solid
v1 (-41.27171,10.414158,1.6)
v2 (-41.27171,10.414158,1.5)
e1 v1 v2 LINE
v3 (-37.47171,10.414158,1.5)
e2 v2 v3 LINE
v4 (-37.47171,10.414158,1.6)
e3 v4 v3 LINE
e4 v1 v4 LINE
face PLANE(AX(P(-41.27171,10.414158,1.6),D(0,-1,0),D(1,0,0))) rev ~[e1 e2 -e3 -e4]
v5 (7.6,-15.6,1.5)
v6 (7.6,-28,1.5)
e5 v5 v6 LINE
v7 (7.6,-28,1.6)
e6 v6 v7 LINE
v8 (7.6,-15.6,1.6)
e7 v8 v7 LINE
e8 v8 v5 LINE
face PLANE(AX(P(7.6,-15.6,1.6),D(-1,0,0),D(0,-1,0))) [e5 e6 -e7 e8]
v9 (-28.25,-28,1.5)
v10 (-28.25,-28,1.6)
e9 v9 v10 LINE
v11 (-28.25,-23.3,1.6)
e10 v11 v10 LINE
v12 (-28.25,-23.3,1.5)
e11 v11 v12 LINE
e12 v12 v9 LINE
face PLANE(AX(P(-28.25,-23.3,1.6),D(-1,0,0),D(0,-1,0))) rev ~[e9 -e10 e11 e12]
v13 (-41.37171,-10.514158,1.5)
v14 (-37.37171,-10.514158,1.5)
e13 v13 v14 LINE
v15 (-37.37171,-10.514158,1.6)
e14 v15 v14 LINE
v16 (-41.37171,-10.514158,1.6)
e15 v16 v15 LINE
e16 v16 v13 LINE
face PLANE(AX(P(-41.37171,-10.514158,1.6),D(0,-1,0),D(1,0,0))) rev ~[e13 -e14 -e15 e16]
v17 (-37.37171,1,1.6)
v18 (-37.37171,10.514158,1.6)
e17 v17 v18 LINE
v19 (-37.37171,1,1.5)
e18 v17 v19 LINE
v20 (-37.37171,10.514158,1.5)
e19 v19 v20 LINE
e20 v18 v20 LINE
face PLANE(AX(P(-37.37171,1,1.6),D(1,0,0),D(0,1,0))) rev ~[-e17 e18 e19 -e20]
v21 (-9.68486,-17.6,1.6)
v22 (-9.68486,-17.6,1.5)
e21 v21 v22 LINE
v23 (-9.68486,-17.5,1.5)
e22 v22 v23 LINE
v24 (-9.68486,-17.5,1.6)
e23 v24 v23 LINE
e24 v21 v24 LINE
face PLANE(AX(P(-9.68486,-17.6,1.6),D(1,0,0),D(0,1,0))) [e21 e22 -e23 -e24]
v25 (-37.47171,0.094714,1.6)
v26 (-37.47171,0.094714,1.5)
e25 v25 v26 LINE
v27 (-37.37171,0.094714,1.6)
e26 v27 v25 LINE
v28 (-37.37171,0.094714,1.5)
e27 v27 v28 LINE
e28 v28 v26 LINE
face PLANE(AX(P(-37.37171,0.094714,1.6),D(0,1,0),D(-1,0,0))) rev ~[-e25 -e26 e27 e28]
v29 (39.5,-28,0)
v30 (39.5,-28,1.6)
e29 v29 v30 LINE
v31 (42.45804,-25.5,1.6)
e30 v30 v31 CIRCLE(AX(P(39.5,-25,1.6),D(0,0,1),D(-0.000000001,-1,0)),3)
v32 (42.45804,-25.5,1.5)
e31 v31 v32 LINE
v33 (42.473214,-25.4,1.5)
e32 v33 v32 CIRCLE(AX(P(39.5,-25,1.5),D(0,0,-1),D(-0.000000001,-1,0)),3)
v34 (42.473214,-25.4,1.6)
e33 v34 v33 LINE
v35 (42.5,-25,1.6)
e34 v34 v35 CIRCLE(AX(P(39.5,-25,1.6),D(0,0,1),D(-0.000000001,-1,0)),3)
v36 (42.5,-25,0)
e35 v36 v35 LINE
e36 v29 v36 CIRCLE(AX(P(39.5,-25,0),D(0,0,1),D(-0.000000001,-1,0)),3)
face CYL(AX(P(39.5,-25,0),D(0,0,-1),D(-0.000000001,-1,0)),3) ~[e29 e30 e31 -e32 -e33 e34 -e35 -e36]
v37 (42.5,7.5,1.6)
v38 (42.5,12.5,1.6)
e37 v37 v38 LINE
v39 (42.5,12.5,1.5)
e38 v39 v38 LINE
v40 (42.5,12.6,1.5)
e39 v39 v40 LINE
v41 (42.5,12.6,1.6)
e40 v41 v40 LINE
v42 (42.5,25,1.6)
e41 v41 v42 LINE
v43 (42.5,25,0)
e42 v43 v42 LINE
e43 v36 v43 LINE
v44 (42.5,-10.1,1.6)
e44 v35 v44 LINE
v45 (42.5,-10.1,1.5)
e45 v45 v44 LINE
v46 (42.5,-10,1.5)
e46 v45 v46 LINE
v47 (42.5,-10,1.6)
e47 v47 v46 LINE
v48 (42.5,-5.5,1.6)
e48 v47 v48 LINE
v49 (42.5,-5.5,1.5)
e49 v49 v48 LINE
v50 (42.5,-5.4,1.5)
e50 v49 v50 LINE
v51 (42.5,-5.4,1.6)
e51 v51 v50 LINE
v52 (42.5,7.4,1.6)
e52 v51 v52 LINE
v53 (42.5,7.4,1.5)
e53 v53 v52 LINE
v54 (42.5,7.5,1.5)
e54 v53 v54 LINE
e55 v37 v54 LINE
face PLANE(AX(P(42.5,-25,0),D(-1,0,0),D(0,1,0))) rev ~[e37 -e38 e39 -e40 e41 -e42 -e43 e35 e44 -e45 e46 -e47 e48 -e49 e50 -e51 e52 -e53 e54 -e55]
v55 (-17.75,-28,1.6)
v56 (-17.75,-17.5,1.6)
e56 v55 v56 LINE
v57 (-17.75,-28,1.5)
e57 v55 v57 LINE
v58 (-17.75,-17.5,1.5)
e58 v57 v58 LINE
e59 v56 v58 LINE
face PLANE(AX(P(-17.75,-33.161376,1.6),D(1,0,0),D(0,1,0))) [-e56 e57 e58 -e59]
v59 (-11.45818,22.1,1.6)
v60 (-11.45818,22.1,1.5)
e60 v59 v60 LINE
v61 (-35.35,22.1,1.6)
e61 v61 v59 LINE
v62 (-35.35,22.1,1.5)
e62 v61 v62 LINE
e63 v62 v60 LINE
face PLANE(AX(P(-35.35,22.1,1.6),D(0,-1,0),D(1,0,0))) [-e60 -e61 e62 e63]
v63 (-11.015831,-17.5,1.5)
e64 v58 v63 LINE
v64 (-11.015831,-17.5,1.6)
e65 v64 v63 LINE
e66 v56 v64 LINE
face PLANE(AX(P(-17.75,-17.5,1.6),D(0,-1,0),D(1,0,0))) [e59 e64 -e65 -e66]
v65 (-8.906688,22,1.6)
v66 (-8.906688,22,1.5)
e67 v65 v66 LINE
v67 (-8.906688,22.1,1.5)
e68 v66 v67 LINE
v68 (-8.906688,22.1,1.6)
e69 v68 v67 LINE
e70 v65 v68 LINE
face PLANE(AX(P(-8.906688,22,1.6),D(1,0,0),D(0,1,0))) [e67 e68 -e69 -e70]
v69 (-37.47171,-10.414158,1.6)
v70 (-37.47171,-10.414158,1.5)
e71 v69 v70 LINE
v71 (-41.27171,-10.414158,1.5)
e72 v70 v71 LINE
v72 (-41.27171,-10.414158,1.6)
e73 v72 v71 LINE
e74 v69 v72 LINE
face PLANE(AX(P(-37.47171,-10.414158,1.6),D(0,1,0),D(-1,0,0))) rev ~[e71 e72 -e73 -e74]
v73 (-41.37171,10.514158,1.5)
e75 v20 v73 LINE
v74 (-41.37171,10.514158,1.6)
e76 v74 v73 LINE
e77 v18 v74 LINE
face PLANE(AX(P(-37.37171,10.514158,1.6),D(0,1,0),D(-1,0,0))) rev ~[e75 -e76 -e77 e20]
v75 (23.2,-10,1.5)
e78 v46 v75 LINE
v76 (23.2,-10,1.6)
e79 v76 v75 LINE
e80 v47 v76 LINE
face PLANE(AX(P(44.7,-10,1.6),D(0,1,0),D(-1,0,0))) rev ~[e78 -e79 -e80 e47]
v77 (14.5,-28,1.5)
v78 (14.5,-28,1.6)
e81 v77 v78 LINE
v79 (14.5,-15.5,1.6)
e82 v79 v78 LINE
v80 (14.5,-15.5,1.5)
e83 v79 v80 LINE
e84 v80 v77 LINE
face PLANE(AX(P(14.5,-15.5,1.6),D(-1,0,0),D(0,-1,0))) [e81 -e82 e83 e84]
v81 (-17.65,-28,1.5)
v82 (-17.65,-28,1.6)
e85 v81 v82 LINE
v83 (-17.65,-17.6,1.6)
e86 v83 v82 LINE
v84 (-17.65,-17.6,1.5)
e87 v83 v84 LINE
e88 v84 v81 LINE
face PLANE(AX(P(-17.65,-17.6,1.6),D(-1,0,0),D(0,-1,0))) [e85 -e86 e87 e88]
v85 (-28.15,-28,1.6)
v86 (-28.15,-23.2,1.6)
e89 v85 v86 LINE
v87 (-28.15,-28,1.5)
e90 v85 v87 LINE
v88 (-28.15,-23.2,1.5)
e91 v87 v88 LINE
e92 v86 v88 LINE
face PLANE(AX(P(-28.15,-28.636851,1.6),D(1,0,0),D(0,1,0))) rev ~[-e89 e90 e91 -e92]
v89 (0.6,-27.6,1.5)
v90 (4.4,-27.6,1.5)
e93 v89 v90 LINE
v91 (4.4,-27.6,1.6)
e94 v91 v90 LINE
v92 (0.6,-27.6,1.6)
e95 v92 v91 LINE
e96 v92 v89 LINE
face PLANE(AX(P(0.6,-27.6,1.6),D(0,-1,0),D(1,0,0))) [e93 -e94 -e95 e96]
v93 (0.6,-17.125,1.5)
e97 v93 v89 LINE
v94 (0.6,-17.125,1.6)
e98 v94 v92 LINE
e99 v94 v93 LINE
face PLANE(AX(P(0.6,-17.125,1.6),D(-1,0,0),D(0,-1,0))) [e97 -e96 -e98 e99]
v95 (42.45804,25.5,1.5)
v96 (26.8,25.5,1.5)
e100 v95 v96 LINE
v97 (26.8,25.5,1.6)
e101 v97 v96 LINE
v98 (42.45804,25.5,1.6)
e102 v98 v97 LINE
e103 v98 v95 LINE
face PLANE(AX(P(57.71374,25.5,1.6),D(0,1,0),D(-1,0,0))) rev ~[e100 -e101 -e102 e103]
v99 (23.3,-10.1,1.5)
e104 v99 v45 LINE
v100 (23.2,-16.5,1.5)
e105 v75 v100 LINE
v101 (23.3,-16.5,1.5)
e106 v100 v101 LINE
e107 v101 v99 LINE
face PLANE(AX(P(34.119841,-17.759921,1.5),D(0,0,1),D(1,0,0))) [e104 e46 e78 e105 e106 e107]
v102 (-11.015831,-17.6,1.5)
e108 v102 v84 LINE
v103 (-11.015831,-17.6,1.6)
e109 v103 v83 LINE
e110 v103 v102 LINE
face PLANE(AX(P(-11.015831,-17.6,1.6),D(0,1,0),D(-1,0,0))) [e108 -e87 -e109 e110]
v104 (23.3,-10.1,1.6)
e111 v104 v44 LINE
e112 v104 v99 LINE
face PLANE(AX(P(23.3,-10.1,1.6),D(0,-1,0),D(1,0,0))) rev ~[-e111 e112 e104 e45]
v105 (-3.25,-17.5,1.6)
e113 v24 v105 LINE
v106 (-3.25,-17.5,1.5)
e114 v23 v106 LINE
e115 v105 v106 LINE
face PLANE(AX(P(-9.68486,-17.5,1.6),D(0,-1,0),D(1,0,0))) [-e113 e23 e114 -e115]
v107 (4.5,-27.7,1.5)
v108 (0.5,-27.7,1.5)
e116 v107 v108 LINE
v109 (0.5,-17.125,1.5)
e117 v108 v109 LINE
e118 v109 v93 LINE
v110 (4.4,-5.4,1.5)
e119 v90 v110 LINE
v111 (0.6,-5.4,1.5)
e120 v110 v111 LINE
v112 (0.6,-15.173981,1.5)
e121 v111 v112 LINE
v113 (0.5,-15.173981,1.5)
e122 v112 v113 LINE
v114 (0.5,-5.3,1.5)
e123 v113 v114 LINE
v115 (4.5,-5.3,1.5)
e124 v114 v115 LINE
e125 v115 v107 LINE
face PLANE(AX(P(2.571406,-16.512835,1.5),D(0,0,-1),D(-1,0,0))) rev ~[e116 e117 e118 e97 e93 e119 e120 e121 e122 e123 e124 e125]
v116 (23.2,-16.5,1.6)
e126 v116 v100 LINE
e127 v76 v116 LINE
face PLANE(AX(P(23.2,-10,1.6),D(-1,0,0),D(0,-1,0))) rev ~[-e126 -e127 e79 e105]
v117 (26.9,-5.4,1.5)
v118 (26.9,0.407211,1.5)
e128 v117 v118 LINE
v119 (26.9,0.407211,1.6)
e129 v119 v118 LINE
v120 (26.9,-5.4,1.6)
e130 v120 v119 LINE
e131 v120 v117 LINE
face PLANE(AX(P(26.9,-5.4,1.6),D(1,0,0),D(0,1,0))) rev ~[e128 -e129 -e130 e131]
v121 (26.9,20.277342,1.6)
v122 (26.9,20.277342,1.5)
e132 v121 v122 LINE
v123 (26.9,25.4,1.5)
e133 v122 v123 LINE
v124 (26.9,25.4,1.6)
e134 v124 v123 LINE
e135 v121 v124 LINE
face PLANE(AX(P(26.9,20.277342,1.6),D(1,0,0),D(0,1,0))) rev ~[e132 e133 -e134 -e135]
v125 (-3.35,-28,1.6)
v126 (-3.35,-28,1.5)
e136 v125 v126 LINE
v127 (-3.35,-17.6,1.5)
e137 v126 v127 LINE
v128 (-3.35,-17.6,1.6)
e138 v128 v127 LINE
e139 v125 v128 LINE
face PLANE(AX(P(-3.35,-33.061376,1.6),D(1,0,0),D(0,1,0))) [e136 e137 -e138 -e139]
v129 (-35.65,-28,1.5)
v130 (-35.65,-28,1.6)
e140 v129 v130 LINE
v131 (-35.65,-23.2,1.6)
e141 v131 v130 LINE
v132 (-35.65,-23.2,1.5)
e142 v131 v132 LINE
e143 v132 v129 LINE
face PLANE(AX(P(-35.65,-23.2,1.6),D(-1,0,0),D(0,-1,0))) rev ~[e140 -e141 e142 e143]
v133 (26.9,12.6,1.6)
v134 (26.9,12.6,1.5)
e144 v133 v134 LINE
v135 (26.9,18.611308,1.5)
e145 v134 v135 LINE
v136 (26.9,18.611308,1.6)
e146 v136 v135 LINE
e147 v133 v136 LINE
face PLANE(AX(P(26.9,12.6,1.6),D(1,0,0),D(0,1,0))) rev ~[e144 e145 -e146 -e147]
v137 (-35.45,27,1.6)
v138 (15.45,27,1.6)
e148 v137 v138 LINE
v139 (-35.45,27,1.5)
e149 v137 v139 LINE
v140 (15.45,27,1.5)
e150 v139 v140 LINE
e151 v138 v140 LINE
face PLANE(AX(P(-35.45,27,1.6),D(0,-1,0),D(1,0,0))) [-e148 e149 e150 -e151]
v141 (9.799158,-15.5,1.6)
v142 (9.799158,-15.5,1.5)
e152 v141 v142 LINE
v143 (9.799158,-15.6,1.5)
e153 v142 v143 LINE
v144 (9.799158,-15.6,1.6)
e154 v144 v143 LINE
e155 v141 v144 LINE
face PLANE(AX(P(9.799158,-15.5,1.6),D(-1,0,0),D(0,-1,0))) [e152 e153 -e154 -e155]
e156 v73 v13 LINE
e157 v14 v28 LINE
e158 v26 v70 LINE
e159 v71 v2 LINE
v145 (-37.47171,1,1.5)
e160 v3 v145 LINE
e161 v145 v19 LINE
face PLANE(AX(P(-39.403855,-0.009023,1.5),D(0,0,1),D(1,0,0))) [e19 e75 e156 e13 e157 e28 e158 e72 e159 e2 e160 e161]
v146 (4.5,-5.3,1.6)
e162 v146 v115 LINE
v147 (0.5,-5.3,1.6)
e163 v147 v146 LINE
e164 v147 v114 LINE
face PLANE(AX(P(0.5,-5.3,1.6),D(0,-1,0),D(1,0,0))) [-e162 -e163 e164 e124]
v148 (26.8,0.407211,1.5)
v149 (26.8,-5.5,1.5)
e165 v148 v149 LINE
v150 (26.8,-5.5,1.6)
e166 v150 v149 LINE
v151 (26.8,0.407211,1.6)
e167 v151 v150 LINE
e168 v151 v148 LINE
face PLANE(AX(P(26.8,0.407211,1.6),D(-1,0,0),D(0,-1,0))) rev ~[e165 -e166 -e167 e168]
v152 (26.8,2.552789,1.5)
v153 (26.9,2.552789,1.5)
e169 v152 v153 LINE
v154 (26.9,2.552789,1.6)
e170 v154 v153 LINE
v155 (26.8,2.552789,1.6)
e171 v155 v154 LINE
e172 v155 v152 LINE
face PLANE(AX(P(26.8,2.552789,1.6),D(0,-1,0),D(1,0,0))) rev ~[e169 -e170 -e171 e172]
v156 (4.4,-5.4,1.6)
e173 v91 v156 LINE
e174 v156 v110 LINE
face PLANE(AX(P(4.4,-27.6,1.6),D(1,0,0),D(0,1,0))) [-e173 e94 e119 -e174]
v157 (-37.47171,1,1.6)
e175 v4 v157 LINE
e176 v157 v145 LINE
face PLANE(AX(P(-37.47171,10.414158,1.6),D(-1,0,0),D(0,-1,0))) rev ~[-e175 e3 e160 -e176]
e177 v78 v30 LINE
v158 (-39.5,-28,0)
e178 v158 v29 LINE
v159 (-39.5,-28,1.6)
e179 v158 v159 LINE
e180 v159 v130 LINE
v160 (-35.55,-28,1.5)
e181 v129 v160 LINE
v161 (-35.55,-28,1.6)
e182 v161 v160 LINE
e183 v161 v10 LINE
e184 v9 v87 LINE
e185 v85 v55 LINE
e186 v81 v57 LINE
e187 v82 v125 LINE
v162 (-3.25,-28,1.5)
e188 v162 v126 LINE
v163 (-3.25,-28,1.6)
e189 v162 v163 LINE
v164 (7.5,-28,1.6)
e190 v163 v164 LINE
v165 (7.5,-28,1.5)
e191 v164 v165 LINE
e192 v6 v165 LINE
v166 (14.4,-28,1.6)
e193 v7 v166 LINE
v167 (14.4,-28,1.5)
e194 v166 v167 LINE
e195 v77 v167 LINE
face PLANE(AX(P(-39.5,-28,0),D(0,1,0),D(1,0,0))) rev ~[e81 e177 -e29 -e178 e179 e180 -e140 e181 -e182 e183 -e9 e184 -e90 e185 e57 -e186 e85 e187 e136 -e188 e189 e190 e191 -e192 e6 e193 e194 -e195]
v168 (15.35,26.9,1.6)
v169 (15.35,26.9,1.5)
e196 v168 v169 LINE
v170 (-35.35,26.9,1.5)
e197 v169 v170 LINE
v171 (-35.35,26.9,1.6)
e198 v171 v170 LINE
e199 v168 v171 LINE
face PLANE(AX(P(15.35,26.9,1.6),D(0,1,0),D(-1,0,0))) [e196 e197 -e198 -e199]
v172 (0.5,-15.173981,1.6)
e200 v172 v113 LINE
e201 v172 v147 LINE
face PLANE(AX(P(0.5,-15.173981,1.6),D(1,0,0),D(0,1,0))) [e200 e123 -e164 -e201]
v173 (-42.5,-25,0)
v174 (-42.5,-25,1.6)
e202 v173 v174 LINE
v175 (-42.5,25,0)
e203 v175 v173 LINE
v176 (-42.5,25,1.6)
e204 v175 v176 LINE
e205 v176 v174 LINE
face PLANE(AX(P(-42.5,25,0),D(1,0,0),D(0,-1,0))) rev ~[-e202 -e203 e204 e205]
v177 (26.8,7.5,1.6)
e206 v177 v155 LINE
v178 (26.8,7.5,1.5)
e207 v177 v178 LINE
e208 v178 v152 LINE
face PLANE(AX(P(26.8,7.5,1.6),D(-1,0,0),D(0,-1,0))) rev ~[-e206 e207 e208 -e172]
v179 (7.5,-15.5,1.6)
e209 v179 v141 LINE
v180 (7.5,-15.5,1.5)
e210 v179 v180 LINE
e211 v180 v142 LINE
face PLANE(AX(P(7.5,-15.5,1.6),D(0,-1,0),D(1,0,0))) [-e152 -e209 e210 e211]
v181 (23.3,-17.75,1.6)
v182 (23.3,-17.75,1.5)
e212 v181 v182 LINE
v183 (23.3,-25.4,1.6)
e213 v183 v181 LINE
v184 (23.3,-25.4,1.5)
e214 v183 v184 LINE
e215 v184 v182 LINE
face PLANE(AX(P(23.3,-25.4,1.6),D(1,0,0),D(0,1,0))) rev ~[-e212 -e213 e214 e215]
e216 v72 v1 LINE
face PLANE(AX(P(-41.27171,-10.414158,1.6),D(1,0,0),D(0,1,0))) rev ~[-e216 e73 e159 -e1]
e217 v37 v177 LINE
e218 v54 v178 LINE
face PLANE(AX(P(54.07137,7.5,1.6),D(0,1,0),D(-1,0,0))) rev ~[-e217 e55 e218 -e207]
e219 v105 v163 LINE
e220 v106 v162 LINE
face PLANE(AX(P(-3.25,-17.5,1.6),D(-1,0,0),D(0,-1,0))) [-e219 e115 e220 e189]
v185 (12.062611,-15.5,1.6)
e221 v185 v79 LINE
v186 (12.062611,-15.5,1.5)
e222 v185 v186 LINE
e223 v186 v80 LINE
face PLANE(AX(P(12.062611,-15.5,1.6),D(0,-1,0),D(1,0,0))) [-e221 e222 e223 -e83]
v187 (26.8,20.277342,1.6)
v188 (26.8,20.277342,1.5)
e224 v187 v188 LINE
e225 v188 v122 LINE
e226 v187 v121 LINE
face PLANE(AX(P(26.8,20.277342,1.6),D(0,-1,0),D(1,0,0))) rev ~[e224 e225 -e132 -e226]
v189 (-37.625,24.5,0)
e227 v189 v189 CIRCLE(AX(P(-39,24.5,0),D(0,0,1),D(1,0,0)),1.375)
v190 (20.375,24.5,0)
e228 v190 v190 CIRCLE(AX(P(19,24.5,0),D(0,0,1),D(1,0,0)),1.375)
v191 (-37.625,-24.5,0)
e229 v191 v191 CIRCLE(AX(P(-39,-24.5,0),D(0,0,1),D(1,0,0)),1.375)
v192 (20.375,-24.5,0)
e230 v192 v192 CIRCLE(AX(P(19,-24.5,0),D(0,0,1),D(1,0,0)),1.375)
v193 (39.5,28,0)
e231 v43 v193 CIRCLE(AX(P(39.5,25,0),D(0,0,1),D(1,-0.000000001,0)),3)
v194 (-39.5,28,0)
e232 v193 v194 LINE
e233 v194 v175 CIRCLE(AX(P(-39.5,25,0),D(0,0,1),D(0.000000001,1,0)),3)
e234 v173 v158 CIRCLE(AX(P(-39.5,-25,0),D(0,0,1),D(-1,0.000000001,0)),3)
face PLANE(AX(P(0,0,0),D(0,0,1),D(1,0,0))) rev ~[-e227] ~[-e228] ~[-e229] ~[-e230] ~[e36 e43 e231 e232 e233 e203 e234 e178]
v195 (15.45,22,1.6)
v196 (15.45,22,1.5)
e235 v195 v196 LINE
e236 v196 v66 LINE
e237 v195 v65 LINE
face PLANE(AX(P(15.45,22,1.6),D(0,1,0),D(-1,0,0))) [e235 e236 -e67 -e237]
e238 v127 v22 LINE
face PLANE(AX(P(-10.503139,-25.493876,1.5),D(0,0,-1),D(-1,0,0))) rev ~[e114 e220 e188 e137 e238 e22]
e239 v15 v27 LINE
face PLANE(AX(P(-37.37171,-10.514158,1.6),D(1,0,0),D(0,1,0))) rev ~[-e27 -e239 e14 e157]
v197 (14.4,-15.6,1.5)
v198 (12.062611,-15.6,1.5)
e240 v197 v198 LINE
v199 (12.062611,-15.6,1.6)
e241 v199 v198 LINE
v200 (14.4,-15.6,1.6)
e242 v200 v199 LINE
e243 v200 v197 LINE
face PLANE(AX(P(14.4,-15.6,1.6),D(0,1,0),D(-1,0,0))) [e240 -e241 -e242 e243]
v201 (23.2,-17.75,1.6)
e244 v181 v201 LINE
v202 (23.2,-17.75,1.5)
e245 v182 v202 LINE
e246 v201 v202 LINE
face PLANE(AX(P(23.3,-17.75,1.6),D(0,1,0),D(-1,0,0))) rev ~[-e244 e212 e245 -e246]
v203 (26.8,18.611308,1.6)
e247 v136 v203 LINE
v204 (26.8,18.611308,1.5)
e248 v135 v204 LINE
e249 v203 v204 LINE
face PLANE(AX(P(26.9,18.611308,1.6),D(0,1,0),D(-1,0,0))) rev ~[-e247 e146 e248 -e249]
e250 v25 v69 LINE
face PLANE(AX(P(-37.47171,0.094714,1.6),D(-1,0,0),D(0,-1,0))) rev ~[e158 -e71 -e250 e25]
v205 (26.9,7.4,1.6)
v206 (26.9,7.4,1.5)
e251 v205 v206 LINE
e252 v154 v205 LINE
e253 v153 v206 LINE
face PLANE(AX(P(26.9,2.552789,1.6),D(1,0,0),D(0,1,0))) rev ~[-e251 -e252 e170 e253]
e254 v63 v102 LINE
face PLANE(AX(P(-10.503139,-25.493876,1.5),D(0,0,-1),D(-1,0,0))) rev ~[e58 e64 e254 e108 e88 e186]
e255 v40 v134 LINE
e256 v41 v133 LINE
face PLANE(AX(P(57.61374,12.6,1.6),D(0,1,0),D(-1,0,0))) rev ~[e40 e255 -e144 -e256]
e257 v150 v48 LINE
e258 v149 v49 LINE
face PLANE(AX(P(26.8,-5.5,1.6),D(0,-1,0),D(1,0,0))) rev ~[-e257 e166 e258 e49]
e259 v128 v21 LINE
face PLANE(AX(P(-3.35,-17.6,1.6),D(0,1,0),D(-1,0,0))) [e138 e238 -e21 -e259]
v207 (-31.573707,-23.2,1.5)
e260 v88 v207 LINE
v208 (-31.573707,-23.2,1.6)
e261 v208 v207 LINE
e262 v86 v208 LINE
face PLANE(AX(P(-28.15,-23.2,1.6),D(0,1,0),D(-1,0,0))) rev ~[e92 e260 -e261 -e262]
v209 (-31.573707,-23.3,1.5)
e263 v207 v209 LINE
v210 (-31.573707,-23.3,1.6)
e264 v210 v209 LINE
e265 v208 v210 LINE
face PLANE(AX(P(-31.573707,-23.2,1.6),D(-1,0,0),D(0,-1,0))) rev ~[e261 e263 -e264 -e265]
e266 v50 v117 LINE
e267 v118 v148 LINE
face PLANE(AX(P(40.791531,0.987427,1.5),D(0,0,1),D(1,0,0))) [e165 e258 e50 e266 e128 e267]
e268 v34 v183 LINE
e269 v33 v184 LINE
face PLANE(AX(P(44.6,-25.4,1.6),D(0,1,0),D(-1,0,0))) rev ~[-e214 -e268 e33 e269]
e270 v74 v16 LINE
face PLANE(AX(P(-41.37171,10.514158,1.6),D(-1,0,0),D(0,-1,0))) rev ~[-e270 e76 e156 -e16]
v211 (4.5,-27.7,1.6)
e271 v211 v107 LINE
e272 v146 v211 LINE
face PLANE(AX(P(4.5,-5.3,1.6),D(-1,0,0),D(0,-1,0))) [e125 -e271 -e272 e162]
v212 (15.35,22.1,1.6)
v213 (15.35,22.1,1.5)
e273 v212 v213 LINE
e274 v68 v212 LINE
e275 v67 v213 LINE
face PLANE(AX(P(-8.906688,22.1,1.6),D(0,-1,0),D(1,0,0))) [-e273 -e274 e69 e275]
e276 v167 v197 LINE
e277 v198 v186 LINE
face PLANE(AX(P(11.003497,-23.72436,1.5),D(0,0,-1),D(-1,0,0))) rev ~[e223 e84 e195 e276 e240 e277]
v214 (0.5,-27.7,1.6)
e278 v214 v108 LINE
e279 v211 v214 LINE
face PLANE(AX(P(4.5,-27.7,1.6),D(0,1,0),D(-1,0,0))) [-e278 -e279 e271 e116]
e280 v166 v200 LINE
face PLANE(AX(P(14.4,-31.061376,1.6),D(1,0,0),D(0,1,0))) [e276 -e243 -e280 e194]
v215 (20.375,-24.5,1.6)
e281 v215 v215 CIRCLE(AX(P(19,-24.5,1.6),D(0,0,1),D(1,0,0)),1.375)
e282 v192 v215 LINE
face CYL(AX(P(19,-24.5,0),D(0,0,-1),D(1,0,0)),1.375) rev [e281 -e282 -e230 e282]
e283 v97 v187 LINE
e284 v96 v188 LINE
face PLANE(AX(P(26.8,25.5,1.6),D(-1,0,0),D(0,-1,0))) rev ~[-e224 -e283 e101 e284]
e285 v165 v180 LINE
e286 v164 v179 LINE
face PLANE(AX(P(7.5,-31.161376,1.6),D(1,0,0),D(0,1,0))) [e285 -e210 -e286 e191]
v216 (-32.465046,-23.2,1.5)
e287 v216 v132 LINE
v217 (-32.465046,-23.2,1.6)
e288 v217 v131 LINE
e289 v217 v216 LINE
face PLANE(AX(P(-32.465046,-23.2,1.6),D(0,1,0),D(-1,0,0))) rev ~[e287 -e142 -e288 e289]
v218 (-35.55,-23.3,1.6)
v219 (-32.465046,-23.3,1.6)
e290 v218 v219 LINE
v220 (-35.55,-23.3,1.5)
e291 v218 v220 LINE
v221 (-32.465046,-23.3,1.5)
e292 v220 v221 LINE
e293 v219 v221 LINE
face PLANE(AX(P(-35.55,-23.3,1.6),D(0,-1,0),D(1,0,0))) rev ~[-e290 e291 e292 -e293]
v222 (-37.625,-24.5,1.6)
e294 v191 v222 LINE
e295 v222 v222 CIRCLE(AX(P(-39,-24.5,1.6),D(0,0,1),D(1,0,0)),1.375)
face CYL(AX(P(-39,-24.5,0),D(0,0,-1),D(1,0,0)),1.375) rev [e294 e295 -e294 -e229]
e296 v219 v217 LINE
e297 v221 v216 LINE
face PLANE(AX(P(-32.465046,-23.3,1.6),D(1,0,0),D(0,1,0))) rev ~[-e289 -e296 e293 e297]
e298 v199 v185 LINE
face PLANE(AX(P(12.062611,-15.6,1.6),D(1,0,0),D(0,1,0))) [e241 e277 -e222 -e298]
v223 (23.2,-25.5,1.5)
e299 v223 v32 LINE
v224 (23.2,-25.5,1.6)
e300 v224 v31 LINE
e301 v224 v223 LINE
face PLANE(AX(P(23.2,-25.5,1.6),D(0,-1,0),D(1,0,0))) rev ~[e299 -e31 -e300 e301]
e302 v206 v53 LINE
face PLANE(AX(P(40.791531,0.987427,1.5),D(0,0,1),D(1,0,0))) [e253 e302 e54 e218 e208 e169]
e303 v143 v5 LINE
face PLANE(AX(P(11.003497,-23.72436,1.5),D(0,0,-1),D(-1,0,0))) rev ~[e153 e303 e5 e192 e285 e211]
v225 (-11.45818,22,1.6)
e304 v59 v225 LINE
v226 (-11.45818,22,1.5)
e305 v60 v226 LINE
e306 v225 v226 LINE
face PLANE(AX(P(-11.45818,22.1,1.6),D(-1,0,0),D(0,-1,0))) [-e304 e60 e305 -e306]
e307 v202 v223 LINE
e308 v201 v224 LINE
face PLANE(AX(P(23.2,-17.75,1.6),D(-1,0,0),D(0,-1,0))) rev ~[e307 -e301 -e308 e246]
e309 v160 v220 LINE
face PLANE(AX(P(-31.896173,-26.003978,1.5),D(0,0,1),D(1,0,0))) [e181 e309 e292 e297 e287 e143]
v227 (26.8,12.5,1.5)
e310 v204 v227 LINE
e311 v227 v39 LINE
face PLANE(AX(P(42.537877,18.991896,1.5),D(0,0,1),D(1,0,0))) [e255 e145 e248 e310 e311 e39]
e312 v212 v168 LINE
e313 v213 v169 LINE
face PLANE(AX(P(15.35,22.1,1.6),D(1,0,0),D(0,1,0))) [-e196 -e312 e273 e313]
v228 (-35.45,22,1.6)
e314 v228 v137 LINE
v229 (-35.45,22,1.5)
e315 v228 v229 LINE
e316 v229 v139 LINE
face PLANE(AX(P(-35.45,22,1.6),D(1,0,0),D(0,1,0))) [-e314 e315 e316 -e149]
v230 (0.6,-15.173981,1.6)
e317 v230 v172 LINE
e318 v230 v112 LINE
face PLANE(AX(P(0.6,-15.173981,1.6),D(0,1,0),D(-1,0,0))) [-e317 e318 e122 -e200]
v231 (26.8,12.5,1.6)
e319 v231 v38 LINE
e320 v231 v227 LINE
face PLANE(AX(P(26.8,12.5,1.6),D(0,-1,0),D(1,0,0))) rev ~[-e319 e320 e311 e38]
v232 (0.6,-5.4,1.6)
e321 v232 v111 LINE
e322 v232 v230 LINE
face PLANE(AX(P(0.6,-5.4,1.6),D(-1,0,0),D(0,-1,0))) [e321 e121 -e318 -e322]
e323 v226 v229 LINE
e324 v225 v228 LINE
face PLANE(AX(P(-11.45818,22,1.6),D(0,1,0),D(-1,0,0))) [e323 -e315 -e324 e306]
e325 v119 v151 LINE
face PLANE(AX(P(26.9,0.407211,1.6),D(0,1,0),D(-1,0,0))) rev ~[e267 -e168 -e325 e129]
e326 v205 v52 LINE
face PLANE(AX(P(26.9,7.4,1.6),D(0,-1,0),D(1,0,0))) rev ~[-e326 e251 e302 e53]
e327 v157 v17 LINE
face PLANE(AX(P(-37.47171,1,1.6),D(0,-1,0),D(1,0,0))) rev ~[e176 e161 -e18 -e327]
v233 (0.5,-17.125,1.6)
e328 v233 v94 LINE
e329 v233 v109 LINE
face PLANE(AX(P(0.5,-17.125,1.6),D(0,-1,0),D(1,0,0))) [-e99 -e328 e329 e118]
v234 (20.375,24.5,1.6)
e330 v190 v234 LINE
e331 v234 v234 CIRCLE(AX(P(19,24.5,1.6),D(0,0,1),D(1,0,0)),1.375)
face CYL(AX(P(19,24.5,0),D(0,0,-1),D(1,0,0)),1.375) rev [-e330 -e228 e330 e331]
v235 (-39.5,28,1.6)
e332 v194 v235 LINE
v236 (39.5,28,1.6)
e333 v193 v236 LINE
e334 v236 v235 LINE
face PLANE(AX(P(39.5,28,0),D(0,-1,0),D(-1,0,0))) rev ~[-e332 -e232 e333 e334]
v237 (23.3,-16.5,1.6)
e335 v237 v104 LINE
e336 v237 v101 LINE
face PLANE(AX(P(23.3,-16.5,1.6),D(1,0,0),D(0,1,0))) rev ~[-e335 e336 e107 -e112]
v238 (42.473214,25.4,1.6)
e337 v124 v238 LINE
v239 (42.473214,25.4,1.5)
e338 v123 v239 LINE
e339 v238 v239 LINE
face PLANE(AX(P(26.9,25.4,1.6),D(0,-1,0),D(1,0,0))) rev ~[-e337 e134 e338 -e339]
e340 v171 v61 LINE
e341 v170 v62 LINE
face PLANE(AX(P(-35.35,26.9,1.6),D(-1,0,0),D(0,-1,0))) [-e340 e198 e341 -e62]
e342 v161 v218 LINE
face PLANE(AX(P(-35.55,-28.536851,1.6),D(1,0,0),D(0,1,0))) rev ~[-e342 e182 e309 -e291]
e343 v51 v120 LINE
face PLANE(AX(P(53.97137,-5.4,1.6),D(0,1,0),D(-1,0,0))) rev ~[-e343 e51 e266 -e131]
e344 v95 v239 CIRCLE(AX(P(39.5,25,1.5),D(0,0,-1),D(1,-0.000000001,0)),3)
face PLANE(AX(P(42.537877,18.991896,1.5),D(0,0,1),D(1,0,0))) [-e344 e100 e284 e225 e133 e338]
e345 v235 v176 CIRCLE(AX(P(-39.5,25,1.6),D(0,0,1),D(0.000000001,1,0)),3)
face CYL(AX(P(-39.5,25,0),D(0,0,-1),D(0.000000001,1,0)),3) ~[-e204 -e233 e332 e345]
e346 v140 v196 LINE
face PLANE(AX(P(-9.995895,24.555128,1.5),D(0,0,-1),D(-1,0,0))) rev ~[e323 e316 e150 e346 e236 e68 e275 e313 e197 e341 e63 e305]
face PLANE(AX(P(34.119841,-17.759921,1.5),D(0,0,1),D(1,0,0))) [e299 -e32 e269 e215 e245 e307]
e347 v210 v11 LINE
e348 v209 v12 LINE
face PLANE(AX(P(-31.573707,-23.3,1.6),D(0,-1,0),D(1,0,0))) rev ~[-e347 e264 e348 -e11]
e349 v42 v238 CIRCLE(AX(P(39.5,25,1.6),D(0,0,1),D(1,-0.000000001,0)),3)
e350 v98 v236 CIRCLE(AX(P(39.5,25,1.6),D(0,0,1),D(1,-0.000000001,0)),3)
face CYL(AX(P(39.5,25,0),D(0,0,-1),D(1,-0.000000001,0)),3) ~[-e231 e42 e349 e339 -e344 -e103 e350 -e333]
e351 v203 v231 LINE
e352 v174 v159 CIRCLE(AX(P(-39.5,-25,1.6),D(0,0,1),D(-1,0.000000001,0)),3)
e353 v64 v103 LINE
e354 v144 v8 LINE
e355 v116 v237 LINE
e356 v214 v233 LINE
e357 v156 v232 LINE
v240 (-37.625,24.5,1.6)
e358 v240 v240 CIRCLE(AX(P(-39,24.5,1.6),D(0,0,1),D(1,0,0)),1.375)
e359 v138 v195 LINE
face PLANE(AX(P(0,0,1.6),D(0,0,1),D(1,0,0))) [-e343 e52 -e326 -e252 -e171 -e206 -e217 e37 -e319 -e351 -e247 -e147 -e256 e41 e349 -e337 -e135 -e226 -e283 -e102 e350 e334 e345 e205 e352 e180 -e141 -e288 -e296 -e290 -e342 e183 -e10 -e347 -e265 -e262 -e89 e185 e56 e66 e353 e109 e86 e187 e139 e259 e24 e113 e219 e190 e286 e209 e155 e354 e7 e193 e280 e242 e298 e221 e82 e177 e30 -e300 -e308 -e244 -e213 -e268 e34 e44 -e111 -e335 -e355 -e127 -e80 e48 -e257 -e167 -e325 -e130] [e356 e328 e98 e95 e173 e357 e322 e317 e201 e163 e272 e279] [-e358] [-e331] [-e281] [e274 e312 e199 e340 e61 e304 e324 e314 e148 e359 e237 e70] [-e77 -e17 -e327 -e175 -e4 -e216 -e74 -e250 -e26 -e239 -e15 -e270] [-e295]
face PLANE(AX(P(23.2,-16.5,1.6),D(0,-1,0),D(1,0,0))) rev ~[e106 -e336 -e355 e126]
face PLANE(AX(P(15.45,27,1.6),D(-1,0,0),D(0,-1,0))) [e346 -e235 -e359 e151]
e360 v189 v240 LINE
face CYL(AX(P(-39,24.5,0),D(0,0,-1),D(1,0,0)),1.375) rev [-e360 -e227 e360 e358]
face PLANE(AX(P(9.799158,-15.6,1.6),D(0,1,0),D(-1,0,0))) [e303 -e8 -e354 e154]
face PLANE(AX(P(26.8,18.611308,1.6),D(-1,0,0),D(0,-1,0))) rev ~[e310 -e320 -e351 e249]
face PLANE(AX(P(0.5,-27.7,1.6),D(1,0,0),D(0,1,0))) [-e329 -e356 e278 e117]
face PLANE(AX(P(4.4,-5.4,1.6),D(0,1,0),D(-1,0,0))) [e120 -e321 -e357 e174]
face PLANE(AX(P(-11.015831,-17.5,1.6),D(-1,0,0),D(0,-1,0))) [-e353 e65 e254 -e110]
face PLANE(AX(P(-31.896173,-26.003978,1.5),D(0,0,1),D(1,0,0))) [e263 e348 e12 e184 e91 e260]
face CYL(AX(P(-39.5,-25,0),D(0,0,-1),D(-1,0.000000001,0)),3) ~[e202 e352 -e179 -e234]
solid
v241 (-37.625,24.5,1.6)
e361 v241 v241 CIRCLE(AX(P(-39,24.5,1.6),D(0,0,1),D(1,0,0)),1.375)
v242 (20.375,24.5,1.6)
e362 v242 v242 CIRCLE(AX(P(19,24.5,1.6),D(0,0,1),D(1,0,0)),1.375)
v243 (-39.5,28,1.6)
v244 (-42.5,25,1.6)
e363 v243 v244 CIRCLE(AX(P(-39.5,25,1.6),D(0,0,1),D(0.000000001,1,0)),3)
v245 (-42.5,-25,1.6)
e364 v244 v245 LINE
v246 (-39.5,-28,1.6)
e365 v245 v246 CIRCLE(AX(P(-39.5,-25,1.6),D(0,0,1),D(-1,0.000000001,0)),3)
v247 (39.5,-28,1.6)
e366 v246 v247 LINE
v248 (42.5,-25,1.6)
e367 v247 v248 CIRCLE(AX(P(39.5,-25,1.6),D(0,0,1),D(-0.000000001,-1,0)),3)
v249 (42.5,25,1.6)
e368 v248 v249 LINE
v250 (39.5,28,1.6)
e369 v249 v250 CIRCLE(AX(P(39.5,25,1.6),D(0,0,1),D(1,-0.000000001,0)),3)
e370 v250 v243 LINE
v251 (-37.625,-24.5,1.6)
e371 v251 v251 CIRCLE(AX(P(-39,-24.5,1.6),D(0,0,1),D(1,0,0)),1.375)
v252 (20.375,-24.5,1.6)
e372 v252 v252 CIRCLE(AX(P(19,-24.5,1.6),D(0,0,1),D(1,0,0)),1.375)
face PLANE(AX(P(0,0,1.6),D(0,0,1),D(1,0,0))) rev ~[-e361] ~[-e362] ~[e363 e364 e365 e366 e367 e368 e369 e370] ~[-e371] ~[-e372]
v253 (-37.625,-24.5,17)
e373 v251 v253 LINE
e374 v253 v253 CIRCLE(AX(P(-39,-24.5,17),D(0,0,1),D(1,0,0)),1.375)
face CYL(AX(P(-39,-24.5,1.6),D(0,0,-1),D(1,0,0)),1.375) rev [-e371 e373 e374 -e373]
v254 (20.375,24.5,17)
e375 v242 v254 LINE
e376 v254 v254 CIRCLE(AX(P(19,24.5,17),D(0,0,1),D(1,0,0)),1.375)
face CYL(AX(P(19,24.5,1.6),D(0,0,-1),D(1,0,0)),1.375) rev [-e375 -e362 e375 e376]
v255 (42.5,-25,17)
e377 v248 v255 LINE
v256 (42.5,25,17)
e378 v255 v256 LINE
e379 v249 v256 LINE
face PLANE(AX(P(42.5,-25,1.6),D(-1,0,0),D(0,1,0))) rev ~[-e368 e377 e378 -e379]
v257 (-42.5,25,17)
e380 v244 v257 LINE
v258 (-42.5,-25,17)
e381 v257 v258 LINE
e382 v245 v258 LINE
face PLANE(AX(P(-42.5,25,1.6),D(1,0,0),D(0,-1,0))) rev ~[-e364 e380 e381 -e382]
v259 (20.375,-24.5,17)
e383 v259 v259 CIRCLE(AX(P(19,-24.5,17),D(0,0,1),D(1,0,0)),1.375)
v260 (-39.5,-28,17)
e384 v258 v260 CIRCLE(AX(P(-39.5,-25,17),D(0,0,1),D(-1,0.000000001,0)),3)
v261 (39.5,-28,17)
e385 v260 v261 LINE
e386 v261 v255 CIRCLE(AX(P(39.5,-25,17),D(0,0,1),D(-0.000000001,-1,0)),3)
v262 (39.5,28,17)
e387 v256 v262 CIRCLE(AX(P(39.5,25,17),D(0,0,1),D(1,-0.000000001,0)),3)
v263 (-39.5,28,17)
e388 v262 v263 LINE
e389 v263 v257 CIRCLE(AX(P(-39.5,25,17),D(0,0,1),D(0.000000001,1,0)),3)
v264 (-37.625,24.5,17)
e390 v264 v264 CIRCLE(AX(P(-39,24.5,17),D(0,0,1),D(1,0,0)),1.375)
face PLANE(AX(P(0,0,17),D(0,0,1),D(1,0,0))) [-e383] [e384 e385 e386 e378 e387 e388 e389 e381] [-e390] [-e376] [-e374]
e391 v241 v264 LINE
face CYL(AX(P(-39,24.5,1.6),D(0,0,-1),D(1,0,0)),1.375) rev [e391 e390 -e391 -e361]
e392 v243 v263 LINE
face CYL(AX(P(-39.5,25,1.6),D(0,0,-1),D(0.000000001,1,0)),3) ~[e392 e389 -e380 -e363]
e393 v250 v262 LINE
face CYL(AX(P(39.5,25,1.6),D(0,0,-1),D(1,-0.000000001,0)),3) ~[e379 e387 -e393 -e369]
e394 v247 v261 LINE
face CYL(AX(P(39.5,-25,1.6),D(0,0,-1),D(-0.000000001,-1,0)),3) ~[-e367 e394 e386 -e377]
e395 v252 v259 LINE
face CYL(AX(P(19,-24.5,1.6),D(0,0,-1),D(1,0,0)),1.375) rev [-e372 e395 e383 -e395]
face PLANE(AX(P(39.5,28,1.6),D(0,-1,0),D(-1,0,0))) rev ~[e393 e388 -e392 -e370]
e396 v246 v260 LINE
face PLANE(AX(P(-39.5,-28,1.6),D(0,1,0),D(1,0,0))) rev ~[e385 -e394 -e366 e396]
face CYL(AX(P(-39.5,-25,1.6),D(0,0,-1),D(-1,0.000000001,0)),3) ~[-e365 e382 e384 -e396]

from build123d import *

# Parameters (mm, degrees)
SKETCH1_R           = 1.375
BOSS_EXTRUDE1_DEPTH = 1.6
CUT_EXTRUDE1_DEPTH  = 0.1
SKETCH_1_R          = 1.375
EXTRUDE_1_DEPTH     = 15.4


with BuildPart() as part:
    # Sketch1 → Boss-Extrude1 (new body)
    with BuildSketch(Plane.XY):
        with BuildLine():
            Line((-39.5, -28), (39.5, -28))
            ThreePointArc((39.5, -28), (41.621320344, -27.121320344), (42.5, -25))
            Line((42.5, -25), (42.5, 25))
            ThreePointArc((42.5, 25), (41.621320344, 27.121320344), (39.5, 28))
            Line((39.5, 28), (-39.5, 28))
            ThreePointArc((-39.5, 28), (-41.621320344, 27.121320344), (-42.5, 25))
            Line((-42.5, 25), (-42.5, -25))
            ThreePointArc((-42.5, -25), (-41.621320344, -27.121320344), (-39.5, -28))
        make_face()
        with Locations((-39, 24.5)):
            Circle(SKETCH1_R, mode=Mode.SUBTRACT)
        with Locations((-39, -24.5)):
            Circle(SKETCH1_R, mode=Mode.SUBTRACT)
        with Locations((19, 24.5)):
            Circle(SKETCH1_R, mode=Mode.SUBTRACT)
        with Locations((19, -24.5)):
            Circle(SKETCH1_R, mode=Mode.SUBTRACT)
    extrude(amount=BOSS_EXTRUDE1_DEPTH)

    # Sketch2 → Cut-Extrude1 (cut)
    with BuildSketch(Plane.XY.offset(1.6)):
        Polygon((-35.65, -28.636850855), (-28.15, -28.636850855), (-28.15, -23.2), (-31.573707352, -23.2), (-31.573707352, -23.3), (-28.25, -23.3), (-28.25, -28.536850855), (-35.55, -28.536850855), (-35.55, -23.3), (-32.465045999, -23.3), (-32.465045999, -23.2), (-35.65, -23.2), align=None)
        Polygon((-17.75, -17.5), (-11.015830732, -17.5), (-11.015830732, -17.6), (-17.65, -17.6), (-17.65, -33.061376344), (-3.35, -33.061376344), (-3.35, -17.6), (-9.684859924, -17.6), (-9.684859924, -17.5), (-3.25, -17.5), (-3.25, -33.161376344), (-17.75, -33.161376344), align=None)
        Polygon((0.5, -5.3), (4.5, -5.3), (4.5, -27.7), (0.5, -27.7), (0.5, -17.125), (0.6, -17.125), (0.6, -27.6), (4.4, -27.6), (4.4, -5.4), (0.6, -5.4), (0.6, -15.17398131), (0.5, -15.17398131), align=None)
        Polygon((7.5, -15.5), (9.799158316, -15.5), (9.799158316, -15.6), (7.6, -15.6), (7.6, -31.061376344), (14.4, -31.061376344), (14.4, -15.6), (12.062610562, -15.6), (12.062610562, -15.5), (14.5, -15.5), (14.5, -31.161376344), (7.5, -31.161376344), align=None)
        Polygon((-35.45, 27), (15.45, 27), (15.45, 22), (-8.906687942, 22), (-8.906687942, 22.1), (15.35, 22.1), (15.35, 26.9), (-35.35, 26.9), (-35.35, 22.1), (-11.458179647, 22.1), (-11.458179647, 22), (-35.45, 22), align=None)
        Polygon((-41.371710411, -10.514157593), (-37.371710411, -10.514157593), (-37.371710411, 0.094714316), (-37.471710411, 0.094714316), (-37.471710411, -10.414157593), (-41.271710411, -10.414157593), (-41.271710411, 10.414157593), (-37.471710411, 10.414157593), (-37.471710411, 1), (-37.371710411, 1), (-37.371710411, 10.514157593), (-41.371710411, 10.514157593), align=None)
        Polygon((23.2, -25.5), (44.7, -25.5), (44.7, -10), (23.2, -10), (23.2, -16.5), (23.3, -16.5), (23.3, -10.1), (44.6, -10.1), (44.6, -25.4), (23.3, -25.4), (23.3, -17.75), (23.2, -17.75), align=None)
        Polygon((26.8, -5.5), (54.071370237, -5.5), (54.071370237, 7.5), (26.8, 7.5), (26.8, 2.552788505), (26.9, 2.552788505), (26.9, 7.4), (53.971370237, 7.4), (53.971370237, -5.4), (26.9, -5.4), (26.9, 0.407211154), (26.8, 0.407211154), align=None)
        Polygon((26.8, 12.5), (57.71374017, 12.5), (57.71374017, 25.5), (26.8, 25.5), (26.8, 20.277341759), (26.9, 20.277341759), (26.9, 25.4), (57.61374017, 25.4), (57.61374017, 12.6), (26.9, 12.6), (26.9, 18.611308355), (26.8, 18.611308355), align=None)
    extrude(amount=-CUT_EXTRUDE1_DEPTH, mode=Mode.SUBTRACT)


with BuildPart() as body_2:
    # Эскиз1 → Бобышка-Вытянуть1 (new body)
    with BuildSketch(Plane.XY.offset(1.6)):
        with BuildLine():
            Line((-39.5, -28), (39.5, -28))
            ThreePointArc((39.5, -28), (41.621320344, -27.121320344), (42.5, -25))
            Line((42.5, -25), (42.5, 25))
            ThreePointArc((42.5, 25), (41.621320344, 27.121320344), (39.5, 28))
            Line((39.5, 28), (-39.5, 28))
            ThreePointArc((-39.5, 28), (-41.621320344, 27.121320344), (-42.5, 25))
            Line((-42.5, 25), (-42.5, -25))
            ThreePointArc((-42.5, -25), (-41.621320344, -27.121320344), (-39.5, -28))
        make_face()
        with Locations((19, -24.5)):
            Circle(SKETCH_1_R, mode=Mode.SUBTRACT)
        with Locations((-39, -24.5)):
            Circle(SKETCH_1_R, mode=Mode.SUBTRACT)
        with Locations((-39, 24.5)):
            Circle(SKETCH_1_R, mode=Mode.SUBTRACT)
        with Locations((19, 24.5)):
            Circle(SKETCH_1_R, mode=Mode.SUBTRACT)
    extrude(amount=EXTRUDE_1_DEPTH)


solid = Compound([part.part, body_2.part])
